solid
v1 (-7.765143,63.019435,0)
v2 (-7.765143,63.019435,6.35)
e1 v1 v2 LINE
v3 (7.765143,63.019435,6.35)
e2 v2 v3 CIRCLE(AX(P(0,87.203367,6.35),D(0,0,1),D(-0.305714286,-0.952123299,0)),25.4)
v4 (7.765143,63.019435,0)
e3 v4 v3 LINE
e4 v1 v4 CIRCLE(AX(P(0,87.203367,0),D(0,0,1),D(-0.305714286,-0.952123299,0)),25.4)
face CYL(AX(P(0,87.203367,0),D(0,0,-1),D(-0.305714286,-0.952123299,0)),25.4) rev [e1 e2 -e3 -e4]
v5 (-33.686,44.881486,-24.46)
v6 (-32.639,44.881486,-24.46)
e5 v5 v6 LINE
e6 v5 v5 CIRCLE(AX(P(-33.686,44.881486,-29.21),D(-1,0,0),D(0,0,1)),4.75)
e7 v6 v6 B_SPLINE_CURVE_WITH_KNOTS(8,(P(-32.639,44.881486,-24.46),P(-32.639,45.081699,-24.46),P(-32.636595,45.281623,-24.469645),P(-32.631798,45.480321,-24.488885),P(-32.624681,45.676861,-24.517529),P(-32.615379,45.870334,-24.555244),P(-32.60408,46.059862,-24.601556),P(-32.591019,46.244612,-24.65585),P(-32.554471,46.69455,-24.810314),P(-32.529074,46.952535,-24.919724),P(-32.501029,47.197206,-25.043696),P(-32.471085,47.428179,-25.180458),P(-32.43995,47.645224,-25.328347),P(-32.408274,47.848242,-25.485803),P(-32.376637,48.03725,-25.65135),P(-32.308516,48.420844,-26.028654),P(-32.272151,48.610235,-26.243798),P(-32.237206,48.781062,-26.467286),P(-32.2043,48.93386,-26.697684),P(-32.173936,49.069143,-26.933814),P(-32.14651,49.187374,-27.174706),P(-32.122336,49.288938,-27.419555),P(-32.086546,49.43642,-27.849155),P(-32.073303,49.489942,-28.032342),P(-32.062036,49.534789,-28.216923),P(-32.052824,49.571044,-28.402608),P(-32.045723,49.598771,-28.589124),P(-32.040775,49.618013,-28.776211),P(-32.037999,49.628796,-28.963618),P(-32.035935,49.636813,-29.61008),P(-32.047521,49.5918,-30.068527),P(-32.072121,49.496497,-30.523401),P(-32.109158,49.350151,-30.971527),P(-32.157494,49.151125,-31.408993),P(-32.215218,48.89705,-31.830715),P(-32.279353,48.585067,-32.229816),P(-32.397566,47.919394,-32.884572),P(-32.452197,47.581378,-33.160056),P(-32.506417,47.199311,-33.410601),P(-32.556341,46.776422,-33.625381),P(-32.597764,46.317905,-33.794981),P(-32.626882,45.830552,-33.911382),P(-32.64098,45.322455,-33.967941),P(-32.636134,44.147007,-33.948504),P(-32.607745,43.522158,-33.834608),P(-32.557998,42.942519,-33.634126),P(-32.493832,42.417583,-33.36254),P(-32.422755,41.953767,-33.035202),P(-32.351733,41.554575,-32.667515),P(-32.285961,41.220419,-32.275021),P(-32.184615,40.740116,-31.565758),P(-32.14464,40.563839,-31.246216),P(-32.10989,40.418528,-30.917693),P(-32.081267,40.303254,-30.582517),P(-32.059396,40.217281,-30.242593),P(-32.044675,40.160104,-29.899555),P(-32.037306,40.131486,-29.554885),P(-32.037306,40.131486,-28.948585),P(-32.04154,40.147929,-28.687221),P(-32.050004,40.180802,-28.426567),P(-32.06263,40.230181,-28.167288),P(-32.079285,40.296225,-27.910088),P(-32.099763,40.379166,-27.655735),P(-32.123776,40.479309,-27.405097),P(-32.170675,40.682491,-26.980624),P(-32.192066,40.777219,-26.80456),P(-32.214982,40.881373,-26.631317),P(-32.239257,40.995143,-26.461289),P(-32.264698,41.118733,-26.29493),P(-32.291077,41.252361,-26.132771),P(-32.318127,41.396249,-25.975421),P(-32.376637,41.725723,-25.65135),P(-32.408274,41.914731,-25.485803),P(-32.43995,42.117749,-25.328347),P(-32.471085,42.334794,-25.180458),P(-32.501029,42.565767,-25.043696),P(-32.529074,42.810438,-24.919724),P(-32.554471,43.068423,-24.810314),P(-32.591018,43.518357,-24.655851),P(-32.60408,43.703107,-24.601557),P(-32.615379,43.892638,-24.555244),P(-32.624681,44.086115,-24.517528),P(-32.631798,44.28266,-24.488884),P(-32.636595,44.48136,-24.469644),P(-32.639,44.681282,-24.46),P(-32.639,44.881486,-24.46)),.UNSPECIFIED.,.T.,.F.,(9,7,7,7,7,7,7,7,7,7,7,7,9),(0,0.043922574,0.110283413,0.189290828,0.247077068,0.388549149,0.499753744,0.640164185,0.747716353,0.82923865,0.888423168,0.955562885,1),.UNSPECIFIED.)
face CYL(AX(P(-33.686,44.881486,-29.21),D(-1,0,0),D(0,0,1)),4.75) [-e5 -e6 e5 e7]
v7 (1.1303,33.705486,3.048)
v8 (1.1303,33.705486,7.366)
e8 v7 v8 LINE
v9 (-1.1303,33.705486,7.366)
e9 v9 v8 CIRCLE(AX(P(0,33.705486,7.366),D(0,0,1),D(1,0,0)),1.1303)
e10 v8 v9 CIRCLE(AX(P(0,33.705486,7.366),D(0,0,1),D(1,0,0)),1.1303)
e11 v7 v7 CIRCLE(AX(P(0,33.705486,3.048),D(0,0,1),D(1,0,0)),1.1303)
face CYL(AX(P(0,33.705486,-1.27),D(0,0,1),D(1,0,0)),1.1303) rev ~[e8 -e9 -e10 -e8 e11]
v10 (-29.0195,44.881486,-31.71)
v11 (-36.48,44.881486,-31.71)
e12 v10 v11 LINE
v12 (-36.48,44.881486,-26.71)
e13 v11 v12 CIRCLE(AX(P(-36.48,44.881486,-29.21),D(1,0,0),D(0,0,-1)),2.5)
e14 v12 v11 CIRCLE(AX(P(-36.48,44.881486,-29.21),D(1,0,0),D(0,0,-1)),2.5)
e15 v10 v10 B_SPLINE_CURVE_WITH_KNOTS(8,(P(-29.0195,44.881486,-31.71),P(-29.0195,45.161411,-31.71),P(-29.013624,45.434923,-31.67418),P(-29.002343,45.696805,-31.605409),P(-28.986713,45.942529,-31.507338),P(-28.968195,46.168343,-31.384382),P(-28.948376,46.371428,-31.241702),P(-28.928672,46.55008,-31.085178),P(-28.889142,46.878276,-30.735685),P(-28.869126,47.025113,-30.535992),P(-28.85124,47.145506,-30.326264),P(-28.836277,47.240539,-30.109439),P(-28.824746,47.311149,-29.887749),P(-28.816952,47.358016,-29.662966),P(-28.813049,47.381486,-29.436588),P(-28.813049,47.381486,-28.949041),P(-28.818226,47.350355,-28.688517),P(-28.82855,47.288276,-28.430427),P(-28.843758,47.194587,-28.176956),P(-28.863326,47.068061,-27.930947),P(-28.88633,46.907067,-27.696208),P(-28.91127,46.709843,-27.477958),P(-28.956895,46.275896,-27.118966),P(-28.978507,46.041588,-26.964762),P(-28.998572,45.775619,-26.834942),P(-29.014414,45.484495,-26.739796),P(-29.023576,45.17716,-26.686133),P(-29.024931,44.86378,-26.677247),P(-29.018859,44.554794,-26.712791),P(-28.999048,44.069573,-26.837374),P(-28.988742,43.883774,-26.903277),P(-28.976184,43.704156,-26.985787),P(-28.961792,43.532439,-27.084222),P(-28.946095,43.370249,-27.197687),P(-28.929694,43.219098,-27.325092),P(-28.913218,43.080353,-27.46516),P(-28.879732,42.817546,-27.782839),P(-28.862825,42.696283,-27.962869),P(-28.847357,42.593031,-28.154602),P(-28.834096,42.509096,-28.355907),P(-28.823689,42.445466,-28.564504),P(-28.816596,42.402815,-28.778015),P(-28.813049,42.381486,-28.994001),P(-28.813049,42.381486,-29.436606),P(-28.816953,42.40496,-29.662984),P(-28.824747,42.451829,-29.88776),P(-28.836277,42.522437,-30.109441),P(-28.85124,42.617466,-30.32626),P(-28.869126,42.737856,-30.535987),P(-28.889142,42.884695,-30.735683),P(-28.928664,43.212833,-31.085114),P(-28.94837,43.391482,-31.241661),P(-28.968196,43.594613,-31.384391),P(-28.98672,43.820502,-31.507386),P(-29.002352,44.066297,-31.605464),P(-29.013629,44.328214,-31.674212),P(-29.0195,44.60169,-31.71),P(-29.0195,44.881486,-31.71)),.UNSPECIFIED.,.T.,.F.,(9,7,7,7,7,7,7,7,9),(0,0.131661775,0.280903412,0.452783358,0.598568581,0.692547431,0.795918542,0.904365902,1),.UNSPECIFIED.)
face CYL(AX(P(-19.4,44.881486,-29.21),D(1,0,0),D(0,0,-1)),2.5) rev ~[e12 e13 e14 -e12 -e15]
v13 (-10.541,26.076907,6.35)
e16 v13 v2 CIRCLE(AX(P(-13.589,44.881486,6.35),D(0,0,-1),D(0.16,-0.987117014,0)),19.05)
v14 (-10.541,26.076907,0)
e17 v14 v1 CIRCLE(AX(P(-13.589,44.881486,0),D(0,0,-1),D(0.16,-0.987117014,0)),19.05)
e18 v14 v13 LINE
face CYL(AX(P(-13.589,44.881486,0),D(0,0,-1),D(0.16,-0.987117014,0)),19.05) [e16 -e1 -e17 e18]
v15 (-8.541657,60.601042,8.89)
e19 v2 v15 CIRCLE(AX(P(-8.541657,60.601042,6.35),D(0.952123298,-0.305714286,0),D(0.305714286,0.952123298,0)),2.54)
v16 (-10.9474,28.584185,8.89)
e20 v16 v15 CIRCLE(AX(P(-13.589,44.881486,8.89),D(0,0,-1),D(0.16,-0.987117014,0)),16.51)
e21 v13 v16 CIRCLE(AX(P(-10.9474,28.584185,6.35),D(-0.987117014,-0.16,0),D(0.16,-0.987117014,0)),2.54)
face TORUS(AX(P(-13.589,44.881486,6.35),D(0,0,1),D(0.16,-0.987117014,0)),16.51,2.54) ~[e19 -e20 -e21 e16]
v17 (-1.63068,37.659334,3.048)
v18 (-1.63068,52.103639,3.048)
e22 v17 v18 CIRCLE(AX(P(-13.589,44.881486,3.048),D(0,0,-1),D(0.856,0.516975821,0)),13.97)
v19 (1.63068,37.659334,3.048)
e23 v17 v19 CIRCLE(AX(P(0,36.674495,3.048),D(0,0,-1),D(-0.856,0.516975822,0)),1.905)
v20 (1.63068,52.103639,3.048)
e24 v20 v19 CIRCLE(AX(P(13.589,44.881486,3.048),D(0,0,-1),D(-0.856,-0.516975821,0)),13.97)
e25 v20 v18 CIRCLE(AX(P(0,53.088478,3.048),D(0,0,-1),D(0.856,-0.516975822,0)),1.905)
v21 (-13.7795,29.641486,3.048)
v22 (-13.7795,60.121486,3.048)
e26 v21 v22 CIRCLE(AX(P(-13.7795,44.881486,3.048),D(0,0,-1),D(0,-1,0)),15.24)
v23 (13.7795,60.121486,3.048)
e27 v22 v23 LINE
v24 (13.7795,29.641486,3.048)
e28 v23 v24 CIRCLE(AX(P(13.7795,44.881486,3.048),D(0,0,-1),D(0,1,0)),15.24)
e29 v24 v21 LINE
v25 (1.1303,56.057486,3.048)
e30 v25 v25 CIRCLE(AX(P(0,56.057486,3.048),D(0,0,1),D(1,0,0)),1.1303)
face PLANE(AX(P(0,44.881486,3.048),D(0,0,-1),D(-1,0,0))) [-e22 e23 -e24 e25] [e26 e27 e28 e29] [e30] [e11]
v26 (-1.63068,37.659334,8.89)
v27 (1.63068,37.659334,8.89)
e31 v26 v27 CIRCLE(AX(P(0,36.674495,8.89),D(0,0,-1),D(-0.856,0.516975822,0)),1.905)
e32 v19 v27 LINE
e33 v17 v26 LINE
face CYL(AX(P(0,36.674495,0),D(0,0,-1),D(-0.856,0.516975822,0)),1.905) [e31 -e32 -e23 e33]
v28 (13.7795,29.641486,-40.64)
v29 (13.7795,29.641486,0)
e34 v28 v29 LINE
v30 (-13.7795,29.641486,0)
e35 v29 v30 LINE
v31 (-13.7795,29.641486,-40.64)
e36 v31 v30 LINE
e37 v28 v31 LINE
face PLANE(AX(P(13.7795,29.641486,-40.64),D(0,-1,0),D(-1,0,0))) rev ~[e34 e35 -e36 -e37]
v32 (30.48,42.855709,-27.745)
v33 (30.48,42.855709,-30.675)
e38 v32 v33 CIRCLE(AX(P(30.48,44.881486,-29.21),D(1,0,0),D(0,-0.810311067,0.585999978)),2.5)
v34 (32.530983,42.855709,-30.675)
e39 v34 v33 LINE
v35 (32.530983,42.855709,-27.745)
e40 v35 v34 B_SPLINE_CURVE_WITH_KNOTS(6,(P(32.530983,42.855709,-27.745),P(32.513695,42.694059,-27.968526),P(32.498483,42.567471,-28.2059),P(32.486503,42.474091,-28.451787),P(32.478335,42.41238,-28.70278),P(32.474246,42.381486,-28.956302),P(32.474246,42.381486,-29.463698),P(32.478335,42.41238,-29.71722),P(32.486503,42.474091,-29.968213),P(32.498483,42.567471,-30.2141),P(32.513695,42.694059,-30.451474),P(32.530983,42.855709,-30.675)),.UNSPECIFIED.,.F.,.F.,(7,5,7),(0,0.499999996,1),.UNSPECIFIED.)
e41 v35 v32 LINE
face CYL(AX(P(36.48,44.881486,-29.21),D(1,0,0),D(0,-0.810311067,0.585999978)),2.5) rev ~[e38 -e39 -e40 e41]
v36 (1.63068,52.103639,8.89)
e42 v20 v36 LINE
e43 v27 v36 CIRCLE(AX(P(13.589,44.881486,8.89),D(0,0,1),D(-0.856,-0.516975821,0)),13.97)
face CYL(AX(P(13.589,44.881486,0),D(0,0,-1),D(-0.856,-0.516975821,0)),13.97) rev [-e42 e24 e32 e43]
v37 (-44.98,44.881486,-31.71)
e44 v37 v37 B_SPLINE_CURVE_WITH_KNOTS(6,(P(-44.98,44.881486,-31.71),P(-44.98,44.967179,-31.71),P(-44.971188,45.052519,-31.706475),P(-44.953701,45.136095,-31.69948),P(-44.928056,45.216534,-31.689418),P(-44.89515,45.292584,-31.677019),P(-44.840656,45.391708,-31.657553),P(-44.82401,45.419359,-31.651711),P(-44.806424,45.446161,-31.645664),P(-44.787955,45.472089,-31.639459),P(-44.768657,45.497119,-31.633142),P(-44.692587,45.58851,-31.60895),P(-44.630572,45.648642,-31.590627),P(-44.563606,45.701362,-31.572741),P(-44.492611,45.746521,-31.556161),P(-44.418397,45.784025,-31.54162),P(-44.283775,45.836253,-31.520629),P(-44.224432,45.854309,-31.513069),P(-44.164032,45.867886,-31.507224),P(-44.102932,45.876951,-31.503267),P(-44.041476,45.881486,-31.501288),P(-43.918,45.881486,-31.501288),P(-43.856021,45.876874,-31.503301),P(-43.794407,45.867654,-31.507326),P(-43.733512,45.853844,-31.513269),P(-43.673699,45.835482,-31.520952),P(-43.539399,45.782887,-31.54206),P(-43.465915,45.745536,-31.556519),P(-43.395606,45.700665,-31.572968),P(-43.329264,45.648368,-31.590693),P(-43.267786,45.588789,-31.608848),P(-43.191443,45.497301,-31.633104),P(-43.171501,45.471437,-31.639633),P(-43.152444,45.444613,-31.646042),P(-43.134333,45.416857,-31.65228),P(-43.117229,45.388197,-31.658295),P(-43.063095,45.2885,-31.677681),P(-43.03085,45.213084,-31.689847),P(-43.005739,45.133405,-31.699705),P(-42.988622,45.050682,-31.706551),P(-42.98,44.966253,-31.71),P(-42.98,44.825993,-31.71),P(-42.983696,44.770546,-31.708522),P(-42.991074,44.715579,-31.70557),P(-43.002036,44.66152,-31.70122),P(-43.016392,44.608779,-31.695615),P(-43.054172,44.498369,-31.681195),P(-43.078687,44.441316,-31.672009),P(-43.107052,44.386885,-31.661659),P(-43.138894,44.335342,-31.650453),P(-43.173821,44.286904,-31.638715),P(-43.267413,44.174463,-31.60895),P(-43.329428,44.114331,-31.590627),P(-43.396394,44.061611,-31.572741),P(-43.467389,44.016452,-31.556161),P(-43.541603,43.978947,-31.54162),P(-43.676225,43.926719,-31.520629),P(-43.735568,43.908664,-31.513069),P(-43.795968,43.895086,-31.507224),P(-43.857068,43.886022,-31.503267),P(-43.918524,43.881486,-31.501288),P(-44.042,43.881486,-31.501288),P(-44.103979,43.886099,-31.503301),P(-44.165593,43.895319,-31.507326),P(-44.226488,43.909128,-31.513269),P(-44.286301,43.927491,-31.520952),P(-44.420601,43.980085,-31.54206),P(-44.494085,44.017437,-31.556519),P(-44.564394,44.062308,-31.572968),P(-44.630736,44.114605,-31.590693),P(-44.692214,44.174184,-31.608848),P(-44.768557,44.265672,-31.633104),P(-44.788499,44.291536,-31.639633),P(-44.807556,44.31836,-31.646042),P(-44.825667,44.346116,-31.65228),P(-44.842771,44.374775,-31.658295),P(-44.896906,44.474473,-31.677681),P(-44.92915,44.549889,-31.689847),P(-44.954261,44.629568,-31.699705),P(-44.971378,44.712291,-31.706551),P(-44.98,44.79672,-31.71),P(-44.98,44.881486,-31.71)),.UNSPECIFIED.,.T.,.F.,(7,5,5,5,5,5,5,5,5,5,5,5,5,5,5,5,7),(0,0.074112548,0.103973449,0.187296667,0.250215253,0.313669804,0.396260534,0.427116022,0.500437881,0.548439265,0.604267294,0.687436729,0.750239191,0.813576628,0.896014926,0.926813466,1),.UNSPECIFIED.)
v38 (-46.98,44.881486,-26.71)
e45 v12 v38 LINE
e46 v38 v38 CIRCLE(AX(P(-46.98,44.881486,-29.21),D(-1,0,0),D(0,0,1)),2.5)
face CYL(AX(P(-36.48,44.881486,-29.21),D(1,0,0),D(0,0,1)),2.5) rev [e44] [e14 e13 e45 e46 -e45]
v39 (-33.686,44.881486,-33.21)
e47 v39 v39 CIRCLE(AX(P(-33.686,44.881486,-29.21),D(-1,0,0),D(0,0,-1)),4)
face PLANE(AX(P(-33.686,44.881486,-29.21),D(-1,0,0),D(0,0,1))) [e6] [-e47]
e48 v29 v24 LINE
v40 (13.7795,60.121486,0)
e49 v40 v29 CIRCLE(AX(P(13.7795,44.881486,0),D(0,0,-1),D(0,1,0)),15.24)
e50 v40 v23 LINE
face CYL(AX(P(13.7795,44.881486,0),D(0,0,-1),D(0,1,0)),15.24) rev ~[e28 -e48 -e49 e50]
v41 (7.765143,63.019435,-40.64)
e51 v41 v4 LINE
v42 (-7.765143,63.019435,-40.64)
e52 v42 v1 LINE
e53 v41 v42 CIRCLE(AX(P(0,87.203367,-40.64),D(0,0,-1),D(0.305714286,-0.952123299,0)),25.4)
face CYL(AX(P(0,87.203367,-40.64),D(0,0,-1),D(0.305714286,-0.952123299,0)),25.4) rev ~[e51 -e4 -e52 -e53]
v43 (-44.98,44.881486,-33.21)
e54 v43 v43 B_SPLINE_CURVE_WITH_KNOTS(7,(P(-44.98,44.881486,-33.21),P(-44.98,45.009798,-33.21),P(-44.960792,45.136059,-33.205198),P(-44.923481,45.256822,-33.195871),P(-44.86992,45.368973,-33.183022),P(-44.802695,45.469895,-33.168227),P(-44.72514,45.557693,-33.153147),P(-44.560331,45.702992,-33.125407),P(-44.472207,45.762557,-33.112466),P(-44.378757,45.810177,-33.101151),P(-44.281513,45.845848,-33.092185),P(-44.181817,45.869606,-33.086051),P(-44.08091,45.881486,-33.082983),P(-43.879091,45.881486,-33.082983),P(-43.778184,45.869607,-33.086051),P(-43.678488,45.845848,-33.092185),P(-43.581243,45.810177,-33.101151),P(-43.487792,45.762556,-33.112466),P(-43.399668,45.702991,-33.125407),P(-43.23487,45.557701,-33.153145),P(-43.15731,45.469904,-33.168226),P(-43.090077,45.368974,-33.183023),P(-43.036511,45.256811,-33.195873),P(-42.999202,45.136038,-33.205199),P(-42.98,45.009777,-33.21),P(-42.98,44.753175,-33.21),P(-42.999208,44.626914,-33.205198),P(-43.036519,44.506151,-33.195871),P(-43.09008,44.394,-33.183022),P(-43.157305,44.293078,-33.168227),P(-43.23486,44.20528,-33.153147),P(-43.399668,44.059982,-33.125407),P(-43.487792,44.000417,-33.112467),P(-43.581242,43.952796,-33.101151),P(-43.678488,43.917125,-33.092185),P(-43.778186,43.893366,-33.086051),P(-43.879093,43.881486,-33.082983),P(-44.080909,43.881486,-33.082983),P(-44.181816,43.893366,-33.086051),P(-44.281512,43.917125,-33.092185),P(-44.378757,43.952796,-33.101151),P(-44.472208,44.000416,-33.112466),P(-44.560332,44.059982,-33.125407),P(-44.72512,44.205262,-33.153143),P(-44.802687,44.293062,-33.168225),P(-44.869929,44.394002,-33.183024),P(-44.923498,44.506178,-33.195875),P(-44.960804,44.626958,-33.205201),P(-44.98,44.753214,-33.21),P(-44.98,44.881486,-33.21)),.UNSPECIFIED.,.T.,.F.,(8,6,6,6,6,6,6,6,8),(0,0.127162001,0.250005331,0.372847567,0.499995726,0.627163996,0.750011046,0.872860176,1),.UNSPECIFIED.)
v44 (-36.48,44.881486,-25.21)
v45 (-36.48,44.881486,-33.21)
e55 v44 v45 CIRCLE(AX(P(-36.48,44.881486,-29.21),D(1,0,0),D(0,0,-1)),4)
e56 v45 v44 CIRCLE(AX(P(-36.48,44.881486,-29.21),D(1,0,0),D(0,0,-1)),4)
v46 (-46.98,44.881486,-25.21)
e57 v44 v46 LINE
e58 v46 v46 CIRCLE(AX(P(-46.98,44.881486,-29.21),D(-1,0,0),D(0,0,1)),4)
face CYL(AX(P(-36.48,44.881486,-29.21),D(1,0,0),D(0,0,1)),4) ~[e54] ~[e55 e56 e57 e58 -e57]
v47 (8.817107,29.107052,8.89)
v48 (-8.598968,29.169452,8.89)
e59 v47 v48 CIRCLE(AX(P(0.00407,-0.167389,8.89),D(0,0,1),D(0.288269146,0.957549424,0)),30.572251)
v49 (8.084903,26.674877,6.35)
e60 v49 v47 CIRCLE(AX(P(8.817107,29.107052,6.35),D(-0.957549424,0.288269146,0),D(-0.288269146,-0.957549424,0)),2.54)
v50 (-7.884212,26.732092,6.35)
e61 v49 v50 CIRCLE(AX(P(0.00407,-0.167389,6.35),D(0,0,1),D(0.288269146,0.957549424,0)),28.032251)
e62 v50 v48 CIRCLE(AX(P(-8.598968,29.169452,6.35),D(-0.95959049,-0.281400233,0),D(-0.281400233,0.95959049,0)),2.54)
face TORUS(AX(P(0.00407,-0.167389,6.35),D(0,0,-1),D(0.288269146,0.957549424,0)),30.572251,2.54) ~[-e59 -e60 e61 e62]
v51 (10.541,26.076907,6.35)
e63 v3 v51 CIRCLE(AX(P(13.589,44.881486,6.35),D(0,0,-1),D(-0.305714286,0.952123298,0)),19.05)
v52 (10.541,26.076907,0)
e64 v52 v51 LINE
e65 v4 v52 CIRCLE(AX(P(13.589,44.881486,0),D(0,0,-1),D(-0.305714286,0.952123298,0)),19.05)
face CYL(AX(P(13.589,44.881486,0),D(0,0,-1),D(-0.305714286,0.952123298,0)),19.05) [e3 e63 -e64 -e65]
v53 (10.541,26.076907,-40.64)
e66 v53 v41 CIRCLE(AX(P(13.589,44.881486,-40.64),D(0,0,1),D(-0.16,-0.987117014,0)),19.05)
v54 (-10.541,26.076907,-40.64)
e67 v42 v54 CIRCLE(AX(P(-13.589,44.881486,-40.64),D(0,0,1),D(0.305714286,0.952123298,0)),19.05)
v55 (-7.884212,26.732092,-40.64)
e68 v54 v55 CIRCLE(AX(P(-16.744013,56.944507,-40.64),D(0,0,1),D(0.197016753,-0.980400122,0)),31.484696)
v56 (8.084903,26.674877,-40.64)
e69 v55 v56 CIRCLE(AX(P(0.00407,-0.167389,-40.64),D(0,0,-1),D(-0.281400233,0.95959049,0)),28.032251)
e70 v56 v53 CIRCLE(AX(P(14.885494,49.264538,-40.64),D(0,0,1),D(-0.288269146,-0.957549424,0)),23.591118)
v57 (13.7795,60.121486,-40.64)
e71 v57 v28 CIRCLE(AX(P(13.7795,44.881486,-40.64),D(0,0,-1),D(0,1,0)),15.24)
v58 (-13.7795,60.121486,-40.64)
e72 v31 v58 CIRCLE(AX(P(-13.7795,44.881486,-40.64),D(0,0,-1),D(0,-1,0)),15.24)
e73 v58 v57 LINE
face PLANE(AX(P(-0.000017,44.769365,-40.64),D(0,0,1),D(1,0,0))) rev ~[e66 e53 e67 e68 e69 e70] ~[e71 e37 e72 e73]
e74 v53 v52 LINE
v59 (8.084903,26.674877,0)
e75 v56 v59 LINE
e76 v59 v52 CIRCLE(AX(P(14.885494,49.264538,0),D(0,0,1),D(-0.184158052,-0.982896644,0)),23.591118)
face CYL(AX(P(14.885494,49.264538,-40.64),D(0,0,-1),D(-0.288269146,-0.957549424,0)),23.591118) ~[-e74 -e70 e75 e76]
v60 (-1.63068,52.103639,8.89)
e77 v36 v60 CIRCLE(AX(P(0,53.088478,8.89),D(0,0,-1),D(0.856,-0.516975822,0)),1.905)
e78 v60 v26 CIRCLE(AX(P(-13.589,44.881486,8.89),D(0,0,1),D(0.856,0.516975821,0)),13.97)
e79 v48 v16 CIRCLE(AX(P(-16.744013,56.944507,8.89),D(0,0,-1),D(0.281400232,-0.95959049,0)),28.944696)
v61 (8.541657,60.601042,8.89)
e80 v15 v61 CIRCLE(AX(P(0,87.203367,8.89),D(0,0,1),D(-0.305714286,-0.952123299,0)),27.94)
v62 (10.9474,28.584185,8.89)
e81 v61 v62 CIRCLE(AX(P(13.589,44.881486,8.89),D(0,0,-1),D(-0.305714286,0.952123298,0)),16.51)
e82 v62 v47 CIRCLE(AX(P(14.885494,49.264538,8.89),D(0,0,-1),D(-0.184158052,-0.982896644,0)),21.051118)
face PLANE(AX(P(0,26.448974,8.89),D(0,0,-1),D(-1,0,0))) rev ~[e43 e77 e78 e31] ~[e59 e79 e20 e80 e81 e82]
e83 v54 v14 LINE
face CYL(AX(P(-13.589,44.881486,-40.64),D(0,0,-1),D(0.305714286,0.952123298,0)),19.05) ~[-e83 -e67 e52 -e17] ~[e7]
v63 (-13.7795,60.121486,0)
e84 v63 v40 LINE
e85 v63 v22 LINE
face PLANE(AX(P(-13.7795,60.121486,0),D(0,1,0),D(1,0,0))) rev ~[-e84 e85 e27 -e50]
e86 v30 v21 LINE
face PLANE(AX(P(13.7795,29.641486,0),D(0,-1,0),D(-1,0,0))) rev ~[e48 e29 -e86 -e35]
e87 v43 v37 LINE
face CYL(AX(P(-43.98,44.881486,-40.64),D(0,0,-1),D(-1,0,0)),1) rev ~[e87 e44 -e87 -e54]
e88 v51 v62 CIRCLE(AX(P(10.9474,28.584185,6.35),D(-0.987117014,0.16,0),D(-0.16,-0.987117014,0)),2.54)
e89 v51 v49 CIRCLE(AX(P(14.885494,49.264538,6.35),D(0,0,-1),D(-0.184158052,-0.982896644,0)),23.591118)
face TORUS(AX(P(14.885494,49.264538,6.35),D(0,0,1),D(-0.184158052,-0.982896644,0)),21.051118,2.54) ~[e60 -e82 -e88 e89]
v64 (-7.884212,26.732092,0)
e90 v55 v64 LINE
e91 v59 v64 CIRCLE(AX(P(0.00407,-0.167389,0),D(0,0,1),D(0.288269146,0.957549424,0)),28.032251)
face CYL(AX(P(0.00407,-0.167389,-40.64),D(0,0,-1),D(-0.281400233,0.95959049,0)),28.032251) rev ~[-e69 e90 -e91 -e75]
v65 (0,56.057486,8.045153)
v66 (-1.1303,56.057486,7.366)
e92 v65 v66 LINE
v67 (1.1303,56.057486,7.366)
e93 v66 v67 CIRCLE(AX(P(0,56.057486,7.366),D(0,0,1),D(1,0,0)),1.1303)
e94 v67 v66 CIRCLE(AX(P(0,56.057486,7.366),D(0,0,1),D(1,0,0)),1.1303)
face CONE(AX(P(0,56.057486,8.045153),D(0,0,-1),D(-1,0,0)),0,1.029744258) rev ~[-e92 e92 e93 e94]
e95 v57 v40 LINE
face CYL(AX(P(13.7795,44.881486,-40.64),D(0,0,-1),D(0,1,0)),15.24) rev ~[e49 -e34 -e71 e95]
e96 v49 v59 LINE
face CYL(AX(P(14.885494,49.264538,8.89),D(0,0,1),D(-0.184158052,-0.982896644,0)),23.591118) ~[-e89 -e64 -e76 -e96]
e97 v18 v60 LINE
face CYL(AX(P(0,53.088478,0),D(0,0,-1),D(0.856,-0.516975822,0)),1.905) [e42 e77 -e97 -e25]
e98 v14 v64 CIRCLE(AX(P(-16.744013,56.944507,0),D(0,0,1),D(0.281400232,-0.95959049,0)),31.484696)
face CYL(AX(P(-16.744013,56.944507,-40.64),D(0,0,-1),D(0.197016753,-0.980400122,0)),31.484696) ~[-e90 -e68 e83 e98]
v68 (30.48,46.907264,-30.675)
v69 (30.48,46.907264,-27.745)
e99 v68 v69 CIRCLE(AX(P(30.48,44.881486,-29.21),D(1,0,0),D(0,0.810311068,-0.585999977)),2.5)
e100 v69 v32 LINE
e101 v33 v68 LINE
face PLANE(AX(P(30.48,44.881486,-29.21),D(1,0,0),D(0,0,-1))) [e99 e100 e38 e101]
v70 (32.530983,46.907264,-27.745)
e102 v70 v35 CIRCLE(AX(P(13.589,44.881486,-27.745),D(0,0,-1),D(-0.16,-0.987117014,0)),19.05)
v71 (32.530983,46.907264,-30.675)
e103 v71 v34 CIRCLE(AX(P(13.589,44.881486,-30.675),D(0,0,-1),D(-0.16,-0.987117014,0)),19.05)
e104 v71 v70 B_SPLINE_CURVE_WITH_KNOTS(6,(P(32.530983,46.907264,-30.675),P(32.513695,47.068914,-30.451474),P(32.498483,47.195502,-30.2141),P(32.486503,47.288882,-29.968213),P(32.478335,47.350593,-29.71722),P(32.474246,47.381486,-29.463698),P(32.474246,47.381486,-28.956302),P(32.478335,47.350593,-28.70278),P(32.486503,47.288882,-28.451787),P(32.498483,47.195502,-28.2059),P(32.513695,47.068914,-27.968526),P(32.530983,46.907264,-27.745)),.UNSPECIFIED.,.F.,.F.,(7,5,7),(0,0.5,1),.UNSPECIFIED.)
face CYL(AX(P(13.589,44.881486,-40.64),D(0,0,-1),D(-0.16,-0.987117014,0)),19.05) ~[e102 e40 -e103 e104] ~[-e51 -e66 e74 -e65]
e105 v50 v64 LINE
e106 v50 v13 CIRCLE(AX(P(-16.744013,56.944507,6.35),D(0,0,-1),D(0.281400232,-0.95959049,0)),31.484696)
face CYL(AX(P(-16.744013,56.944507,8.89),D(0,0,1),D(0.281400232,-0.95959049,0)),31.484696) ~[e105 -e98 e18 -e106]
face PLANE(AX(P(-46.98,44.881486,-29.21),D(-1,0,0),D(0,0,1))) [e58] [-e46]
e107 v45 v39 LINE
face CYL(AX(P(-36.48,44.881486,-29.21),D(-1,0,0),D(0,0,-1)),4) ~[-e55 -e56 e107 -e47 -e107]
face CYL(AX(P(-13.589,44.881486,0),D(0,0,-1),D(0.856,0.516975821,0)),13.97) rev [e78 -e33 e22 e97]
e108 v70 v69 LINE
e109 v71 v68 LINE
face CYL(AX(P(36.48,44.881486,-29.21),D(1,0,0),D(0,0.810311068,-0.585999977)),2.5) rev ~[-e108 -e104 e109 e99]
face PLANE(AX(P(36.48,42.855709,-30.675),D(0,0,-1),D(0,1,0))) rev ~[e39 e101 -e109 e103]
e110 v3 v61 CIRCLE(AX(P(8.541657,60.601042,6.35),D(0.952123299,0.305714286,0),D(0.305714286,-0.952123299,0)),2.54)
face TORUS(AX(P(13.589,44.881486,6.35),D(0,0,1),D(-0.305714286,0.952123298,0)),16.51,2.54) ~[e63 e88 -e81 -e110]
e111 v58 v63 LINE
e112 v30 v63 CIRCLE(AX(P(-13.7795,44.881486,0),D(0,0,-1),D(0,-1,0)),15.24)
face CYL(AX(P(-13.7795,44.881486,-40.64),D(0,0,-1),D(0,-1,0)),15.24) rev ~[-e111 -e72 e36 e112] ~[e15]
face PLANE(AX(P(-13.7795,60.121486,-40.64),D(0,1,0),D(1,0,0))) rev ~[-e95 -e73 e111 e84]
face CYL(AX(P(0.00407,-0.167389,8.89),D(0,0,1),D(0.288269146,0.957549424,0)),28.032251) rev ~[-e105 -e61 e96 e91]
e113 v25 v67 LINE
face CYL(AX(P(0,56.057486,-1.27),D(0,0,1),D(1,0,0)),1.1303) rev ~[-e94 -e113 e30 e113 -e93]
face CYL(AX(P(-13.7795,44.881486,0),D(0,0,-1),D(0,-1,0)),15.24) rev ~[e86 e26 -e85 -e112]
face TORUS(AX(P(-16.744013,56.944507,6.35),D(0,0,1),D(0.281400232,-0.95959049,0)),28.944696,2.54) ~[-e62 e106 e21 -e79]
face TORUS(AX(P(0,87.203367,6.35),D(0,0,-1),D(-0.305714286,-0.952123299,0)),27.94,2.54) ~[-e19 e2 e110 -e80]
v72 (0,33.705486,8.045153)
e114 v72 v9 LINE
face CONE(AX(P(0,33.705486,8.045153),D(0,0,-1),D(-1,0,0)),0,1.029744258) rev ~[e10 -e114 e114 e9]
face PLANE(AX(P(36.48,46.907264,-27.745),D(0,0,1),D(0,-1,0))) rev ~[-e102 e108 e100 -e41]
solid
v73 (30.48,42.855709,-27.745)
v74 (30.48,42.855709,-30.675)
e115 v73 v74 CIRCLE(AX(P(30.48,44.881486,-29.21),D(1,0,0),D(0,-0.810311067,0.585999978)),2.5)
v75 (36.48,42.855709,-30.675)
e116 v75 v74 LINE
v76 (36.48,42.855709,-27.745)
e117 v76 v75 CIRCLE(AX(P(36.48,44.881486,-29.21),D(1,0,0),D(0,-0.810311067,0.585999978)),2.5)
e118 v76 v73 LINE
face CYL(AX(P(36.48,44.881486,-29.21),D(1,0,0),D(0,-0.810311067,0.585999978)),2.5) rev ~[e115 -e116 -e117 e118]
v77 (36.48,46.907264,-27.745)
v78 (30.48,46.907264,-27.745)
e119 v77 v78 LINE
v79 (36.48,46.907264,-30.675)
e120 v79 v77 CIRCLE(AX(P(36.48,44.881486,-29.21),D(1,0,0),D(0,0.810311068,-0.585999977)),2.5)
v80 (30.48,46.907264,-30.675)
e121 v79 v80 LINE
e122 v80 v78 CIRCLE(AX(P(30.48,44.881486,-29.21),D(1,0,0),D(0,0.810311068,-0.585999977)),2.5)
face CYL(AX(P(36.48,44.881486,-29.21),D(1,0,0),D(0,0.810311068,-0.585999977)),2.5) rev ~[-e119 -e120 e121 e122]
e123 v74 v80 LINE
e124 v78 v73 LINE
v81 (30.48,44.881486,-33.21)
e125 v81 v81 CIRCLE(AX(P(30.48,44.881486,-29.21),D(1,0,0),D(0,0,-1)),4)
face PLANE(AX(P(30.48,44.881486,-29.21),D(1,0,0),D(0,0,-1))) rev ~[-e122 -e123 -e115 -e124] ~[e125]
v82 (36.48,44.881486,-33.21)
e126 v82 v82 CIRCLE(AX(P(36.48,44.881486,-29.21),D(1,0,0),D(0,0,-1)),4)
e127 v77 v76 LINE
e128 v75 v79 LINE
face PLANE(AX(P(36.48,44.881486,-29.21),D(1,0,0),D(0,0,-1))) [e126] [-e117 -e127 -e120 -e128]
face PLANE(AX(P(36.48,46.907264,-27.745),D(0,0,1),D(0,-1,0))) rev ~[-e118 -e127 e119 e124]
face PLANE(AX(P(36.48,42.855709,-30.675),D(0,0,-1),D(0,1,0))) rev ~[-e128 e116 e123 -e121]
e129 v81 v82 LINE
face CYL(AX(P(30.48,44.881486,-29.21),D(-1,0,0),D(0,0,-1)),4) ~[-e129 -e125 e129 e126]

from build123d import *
from build123d.topology import SkipClean

# Parameters (mm, degrees)
BOSS_EXTRUDE1_DEPTH       = 8.89
CUT_EXTRUDE1_DEPTH        = 3.048
F_4_40_TAPPED_HOLE1_D     = 2.2606
F_4_40_TAPPED_HOLE1_DEPTH = 4.318
F_4_40_TAPPED_HOLE1_TIP   = 0.679152758
CUT_EXTRUDE2_REACH        = 74.33
SKETCH14_R                = 1.8288
CUT_EXTRUDE3_DEPTH        = 38.862
BOSS_EXTRUDE3_START       = 40.64
BOSS_EXTRUDE3_DEPTH       = 40.64
BOSS_EXTRUDE4_START       = 30.48
SKETCH20_R                = 4
BOSS_EXTRUDE4_DEPTH       = 6
BOSS_EXTRUDE5_DEPTH       = 0.508
BOSS_EXTRUDE5_DEPTH_BACK  = 6
BOSS_EXTRUDE5_START       = -30.48
SKETCH20_2_R              = 4
CUT_EXTRUDE5_START        = -55.88
SKETCH21_R                = 2.5
CUT_EXTRUDE5_DEPTH        = 24.678
CUT_EXTRUDE6_DEPTH        = 6
BOSS_EXTRUDE6_START       = -2.794
SKETCH23_R                = 4.75
SKETCH23_R_2              = 3.596259124
BOSS_EXTRUDE6_DEPTH       = 3.984
SKETCH25_R                = 4
SKETCH25_R_2              = 2.5
BOSS_EXTRUDE7_DEPTH       = 10.500000034
SKETCH27_R                = 1
CUT_EXTRUDE7_DEPTH        = 9.666
FILLET6_R                 = 2.54


with BuildPart() as part:
    # Sketch3 → Boss-Extrude1 (new body)
    with BuildSketch(Plane.XY):
        with BuildLine():
            Line((27.94, 0), (-27.94, 0))
            Line((-27.94, 0), (-27.94, 3.302))
            ThreePointArc((-27.94, 3.302), (-27.196051224, 5.098051224), (-25.4, 5.842))
            Line((-25.4, 5.842), (-9.525, 5.842))
            ThreePointArc((-9.525, 5.842), (-5.034871939, 7.701871939), (-3.175, 12.192))
            Line((-3.175, 12.192), (-3.175, 19.808714252))
            ThreePointArc((-3.175, 19.808714252), (-5.409729657, 24.644730174), (-10.541, 26.076907293))
            ThreePointArc((-10.541, 26.076907293), (-32.585448492, 46.308877289), (-7.765142857, 63.019435252))
            ThreePointArc((-7.765142857, 63.019435252), (0, 61.803367034), (7.765142857, 63.019435252))
            ThreePointArc((7.765142857, 63.019435252), (32.585448492, 46.308877289), (10.541, 26.076907293))
            ThreePointArc((10.541, 26.076907293), (5.409729657, 24.644730174), (3.175, 19.808714252))
            Line((3.175, 19.808714252), (3.175, 12.192))
            ThreePointArc((3.175, 12.192), (5.034871939, 7.701871939), (9.525, 5.842))
            Line((9.525, 5.842), (25.4, 5.842))
            ThreePointArc((25.4, 5.842), (27.196051224, 5.098051224), (27.94, 3.302))
            Line((27.94, 3.302), (27.94, 0))
        make_face()
        with BuildLine():
            ThreePointArc((-1.63068, 52.103638642), (-27.559, 44.881486416), (-1.63068, 37.65933419))
            ThreePointArc((-1.63068, 37.65933419), (0, 38.57949525), (1.63068, 37.65933419))
            ThreePointArc((1.63068, 37.65933419), (27.559, 44.881486416), (1.63068, 52.103638642))
            ThreePointArc((1.63068, 52.103638642), (0, 51.183477582), (-1.63068, 52.103638642))
        make_face(mode=Mode.SUBTRACT)
    extrude(amount=BOSS_EXTRUDE1_DEPTH)

    # Sketch5 → Cut-Extrude1 (cut)
    with BuildSketch(Plane(origin=(0, 0, 0), x_dir=(-1, 0, 0), z_dir=(0, 0, -1))):
        with BuildLine():
            Line((13.7795, 60.121486416), (-13.7795, 60.121486416))
            ThreePointArc((-13.7795, 60.121486416), (-29.0195, 44.881486416), (-13.7795, 29.641486416))
            Line((-13.7795, 29.641486416), (13.7795, 29.641486416))
            ThreePointArc((13.7795, 29.641486416), (29.0195, 44.881486416), (13.7795, 60.121486416))
        make_face()
    extrude(amount=-CUT_EXTRUDE1_DEPTH, mode=Mode.SUBTRACT)

    # #4-40 Tapped Hole1
    with Locations(Plane(origin=(0, 0, 3.048), x_dir=(-1, 0, 0), z_dir=(0, 0, -1))):
        with Locations((0, 56.057486416), (0, 33.705486416)):
            Hole(F_4_40_TAPPED_HOLE1_D / 2, depth=F_4_40_TAPPED_HOLE1_DEPTH)
            with Locations((0, 0, -(F_4_40_TAPPED_HOLE1_DEPTH + F_4_40_TAPPED_HOLE1_TIP / 2))):  # 118° drill point
                Cone(0, F_4_40_TAPPED_HOLE1_D / 2, F_4_40_TAPPED_HOLE1_TIP, mode=Mode.SUBTRACT)

    # Sketch14 → Cut-Extrude2 (cut, up to next)
    with BuildSketch(Plane(origin=(0, 0, 0), x_dir=(-1, 0, 0), z_dir=(0, -1, 0)), mode=Mode.PRIVATE) as cut_extrude2_sk1:
        with Locations((22.225, -4.445)):
            Circle(SKETCH14_R)
    cut_extrude2_tool1 = extrude(cut_extrude2_sk1.sketch, amount=-CUT_EXTRUDE2_REACH, mode=Mode.PRIVATE) & part.part
    # Sketch14 → Cut-Extrude2 (cut, up to next)
    with BuildSketch(Plane(origin=(0, 0, 0), x_dir=(-1, 0, 0), z_dir=(0, -1, 0)), mode=Mode.PRIVATE) as cut_extrude2_sk2:
        with Locations((-22.225, -4.445)):
            Circle(SKETCH14_R)
    cut_extrude2_tool2 = extrude(cut_extrude2_sk2.sketch, amount=-CUT_EXTRUDE2_REACH, mode=Mode.PRIVATE) & part.part
    add(cut_extrude2_tool1.solids().sort_by_distance((-22.225, 0, 4.445))[0], mode=Mode.SUBTRACT)
    add(cut_extrude2_tool2.solids().sort_by_distance((22.225, 0, 4.445))[0], mode=Mode.SUBTRACT)

    # Sketch15 → Cut-Extrude3 (cut)
    with BuildSketch(Plane.XY.offset(8.89)):
        with BuildLine():
            Line((-10.541, 26.076907293), (-57.74295943, 0))
            Line((-57.74295943, 0), (-18.699372608, -16.511014467))
            Line((-18.699372608, -16.511014467), (69.238576279, -8.255507234))
            Line((69.238576279, -8.255507234), (10.541, 26.076907293))
            ThreePointArc((10.541, 26.076907293), (9.304936493, 26.342971235), (8.084902933, 26.674876531))
            ThreePointArc((8.084902933, 26.674876531), (0.10450601, 27.864681788), (-7.884211813, 26.732092214))
            ThreePointArc((-7.884211813, 26.732092214), (-9.205484653, 26.375622927), (-10.541, 26.076907293))
        make_face()
    extrude(amount=-CUT_EXTRUDE3_DEPTH, mode=Mode.SUBTRACT)

    # Sketch19 → Boss-Extrude3 (add)
    with SkipClean():  # the faces are left unmerged after this step: merging them gives an invalid solid
        with BuildSketch(Plane(origin=(0, 0, 0), x_dir=(-1, 0, 0), z_dir=(0, 0, -1)).offset(BOSS_EXTRUDE3_START)):
            with BuildLine():
                ThreePointArc((-7.765142857, 63.019435252), (0, 61.803367034), (7.765142857, 63.019435252))
                ThreePointArc((7.765142857, 63.019435252), (32.585448492, 46.308877289), (10.541, 26.076907293))
                ThreePointArc((10.541, 26.076907293), (9.205484653, 26.375622927), (7.884211813, 26.732092214))
                ThreePointArc((7.884211813, 26.732092214), (-0.10450601, 27.864681788), (-8.084902933, 26.674876531))
                ThreePointArc((-8.084902933, 26.674876531), (-9.304936493, 26.342971235), (-10.541, 26.076907293))
                ThreePointArc((-10.541, 26.076907293), (-32.585448492, 46.308877289), (-7.765142857, 63.019435252))
            make_face()
            with BuildLine():
                Line((-13.7795, 29.641486416), (13.7795, 29.641486416))
                ThreePointArc((13.7795, 29.641486416), (29.0195, 44.881486416), (13.7795, 60.121486416))
                Line((13.7795, 60.121486416), (-13.7795, 60.121486416))
                ThreePointArc((-13.7795, 60.121486416), (-29.0195, 44.881486416), (-13.7795, 29.641486416))
            make_face(mode=Mode.SUBTRACT)
        extrude(amount=-BOSS_EXTRUDE3_DEPTH)

    # Sketch20<2> → Boss-Extrude5 (add, two sides: drawn at the far end of the back side and taken through both)
    with SkipClean():  # the faces are left unmerged after this step: merging them gives an invalid solid
        with BuildSketch(Plane(origin=(0, 0, 0), x_dir=(0, 0, -1), z_dir=(1, 0, 0)).offset(BOSS_EXTRUDE5_START - BOSS_EXTRUDE5_DEPTH_BACK)):
            with Locations((29.21, 44.881486416)):
                Circle(SKETCH20_2_R)
        extrude(amount=BOSS_EXTRUDE5_DEPTH + BOSS_EXTRUDE5_DEPTH_BACK)

    # Sketch21 → Cut-Extrude5 (cut)
    with SkipClean():  # the faces are left unmerged after this step: merging them gives an invalid solid
        with BuildSketch(Plane(origin=(36.48, 0, 0), x_dir=(0, 0, -1), z_dir=(1, 0, 0)).offset(CUT_EXTRUDE5_START)):
            with Locations((29.21, 44.881486416)):
                Circle(SKETCH21_R)
        extrude(amount=-CUT_EXTRUDE5_DEPTH, mode=Mode.SUBTRACT)


with BuildPart() as body_2:
    # Sketch20 → Boss-Extrude4 (new body)
    with BuildSketch(Plane(origin=(0, 0, 0), x_dir=(0, 0, -1), z_dir=(1, 0, 0)).offset(BOSS_EXTRUDE4_START)):
        with Locations((29.21, 44.881486416)):
            Circle(SKETCH20_R)
    extrude(amount=BOSS_EXTRUDE4_DEPTH)


with BuildPart() as cut_extrude6_tool:
    # Sketch22 → Cut-Extrude6 (new body)
    with SkipClean():  # the faces are left unmerged after this step: merging them gives an invalid solid
        with BuildSketch(Plane(origin=(36.48, 0, 0), x_dir=(0, 0, -1), z_dir=(1, 0, 0))):
            with BuildLine():
                Line((27.745000009, 46.90726415), (27.745000009, 42.855708683))
                ThreePointArc((27.745000009, 42.855708683), (29.21, 42.381486336), (30.674999991, 42.855708683))
                Line((30.674999991, 42.855708683), (30.674999991, 46.90726415))
                ThreePointArc((30.674999991, 46.90726415), (29.21, 47.381486496), (27.745000009, 46.90726415))
            make_face()
        extrude(amount=-CUT_EXTRUDE6_DEPTH)


with BuildPart() as part_1:
    with SkipClean():  # the faces are left unmerged after this step: merging them gives an invalid solid
        add(part.part)

        # Cut-Extrude6: cut by cut_extrude6_tool
        add(cut_extrude6_tool.part, mode=Mode.SUBTRACT)

    # Sketch23 → Boss-Extrude6 (add)
    with SkipClean():  # the faces are left unmerged after this step: merging them gives an invalid solid
        with BuildSketch(Plane.ZY.offset(36.48).offset(BOSS_EXTRUDE6_START)):
            with Locations((-29.21, 44.881486416)):
                Circle(SKETCH23_R)
            with Locations((-29.21, 44.881486416)):
                Circle(SKETCH23_R_2, mode=Mode.SUBTRACT)
        extrude(amount=-BOSS_EXTRUDE6_DEPTH)

    # Sketch25 → Boss-Extrude7 (add)
    with SkipClean():  # the faces are left unmerged after this step: merging them gives an invalid solid
        with BuildSketch(Plane.ZY.offset(36.48)):
            with Locations((-29.21, 44.881486416)):
                Circle(SKETCH25_R)
            with Locations((-29.21, 44.881486416)):
                Circle(SKETCH25_R_2, mode=Mode.SUBTRACT)
        extrude(amount=BOSS_EXTRUDE7_DEPTH)

    # Sketch27 → Cut-Extrude7 (cut)
    with SkipClean():  # the faces are left unmerged after this step: merging them gives an invalid solid
        with BuildSketch(Plane(origin=(0, 0, -40.64), x_dir=(-1, 0, 0), z_dir=(0, 0, -1))):
            with Locations((43.980000034, 44.881486416)):
                Circle(SKETCH27_R)
        extrude(amount=-CUT_EXTRUDE7_DEPTH, mode=Mode.SUBTRACT)

    # Fillet6
    fillet6_edges = [part_1.edges().sort_by_distance(p)[0] for p in [
        (-32.585448492, 46.308877289, 8.89),
        (-9.205484653, 26.375622927, 8.89),
        (9.304936493, 26.342971235, 8.89),
        (0.10450601, 27.864681788, 8.89),
        (32.585448492, 46.308877289, 8.89),
        (0, 61.803367034, 8.89),
    ]]
    fillet(fillet6_edges, radius=FILLET6_R)


with BuildPart() as body_2_1:
    with SkipClean():  # the faces are left unmerged after this step: merging them gives an invalid solid
        add(body_2.part)

        # Cut-Extrude6: cut by cut_extrude6_tool
        add(cut_extrude6_tool.part, mode=Mode.SUBTRACT)


solid = Compound([part_1.part, body_2_1.part])
